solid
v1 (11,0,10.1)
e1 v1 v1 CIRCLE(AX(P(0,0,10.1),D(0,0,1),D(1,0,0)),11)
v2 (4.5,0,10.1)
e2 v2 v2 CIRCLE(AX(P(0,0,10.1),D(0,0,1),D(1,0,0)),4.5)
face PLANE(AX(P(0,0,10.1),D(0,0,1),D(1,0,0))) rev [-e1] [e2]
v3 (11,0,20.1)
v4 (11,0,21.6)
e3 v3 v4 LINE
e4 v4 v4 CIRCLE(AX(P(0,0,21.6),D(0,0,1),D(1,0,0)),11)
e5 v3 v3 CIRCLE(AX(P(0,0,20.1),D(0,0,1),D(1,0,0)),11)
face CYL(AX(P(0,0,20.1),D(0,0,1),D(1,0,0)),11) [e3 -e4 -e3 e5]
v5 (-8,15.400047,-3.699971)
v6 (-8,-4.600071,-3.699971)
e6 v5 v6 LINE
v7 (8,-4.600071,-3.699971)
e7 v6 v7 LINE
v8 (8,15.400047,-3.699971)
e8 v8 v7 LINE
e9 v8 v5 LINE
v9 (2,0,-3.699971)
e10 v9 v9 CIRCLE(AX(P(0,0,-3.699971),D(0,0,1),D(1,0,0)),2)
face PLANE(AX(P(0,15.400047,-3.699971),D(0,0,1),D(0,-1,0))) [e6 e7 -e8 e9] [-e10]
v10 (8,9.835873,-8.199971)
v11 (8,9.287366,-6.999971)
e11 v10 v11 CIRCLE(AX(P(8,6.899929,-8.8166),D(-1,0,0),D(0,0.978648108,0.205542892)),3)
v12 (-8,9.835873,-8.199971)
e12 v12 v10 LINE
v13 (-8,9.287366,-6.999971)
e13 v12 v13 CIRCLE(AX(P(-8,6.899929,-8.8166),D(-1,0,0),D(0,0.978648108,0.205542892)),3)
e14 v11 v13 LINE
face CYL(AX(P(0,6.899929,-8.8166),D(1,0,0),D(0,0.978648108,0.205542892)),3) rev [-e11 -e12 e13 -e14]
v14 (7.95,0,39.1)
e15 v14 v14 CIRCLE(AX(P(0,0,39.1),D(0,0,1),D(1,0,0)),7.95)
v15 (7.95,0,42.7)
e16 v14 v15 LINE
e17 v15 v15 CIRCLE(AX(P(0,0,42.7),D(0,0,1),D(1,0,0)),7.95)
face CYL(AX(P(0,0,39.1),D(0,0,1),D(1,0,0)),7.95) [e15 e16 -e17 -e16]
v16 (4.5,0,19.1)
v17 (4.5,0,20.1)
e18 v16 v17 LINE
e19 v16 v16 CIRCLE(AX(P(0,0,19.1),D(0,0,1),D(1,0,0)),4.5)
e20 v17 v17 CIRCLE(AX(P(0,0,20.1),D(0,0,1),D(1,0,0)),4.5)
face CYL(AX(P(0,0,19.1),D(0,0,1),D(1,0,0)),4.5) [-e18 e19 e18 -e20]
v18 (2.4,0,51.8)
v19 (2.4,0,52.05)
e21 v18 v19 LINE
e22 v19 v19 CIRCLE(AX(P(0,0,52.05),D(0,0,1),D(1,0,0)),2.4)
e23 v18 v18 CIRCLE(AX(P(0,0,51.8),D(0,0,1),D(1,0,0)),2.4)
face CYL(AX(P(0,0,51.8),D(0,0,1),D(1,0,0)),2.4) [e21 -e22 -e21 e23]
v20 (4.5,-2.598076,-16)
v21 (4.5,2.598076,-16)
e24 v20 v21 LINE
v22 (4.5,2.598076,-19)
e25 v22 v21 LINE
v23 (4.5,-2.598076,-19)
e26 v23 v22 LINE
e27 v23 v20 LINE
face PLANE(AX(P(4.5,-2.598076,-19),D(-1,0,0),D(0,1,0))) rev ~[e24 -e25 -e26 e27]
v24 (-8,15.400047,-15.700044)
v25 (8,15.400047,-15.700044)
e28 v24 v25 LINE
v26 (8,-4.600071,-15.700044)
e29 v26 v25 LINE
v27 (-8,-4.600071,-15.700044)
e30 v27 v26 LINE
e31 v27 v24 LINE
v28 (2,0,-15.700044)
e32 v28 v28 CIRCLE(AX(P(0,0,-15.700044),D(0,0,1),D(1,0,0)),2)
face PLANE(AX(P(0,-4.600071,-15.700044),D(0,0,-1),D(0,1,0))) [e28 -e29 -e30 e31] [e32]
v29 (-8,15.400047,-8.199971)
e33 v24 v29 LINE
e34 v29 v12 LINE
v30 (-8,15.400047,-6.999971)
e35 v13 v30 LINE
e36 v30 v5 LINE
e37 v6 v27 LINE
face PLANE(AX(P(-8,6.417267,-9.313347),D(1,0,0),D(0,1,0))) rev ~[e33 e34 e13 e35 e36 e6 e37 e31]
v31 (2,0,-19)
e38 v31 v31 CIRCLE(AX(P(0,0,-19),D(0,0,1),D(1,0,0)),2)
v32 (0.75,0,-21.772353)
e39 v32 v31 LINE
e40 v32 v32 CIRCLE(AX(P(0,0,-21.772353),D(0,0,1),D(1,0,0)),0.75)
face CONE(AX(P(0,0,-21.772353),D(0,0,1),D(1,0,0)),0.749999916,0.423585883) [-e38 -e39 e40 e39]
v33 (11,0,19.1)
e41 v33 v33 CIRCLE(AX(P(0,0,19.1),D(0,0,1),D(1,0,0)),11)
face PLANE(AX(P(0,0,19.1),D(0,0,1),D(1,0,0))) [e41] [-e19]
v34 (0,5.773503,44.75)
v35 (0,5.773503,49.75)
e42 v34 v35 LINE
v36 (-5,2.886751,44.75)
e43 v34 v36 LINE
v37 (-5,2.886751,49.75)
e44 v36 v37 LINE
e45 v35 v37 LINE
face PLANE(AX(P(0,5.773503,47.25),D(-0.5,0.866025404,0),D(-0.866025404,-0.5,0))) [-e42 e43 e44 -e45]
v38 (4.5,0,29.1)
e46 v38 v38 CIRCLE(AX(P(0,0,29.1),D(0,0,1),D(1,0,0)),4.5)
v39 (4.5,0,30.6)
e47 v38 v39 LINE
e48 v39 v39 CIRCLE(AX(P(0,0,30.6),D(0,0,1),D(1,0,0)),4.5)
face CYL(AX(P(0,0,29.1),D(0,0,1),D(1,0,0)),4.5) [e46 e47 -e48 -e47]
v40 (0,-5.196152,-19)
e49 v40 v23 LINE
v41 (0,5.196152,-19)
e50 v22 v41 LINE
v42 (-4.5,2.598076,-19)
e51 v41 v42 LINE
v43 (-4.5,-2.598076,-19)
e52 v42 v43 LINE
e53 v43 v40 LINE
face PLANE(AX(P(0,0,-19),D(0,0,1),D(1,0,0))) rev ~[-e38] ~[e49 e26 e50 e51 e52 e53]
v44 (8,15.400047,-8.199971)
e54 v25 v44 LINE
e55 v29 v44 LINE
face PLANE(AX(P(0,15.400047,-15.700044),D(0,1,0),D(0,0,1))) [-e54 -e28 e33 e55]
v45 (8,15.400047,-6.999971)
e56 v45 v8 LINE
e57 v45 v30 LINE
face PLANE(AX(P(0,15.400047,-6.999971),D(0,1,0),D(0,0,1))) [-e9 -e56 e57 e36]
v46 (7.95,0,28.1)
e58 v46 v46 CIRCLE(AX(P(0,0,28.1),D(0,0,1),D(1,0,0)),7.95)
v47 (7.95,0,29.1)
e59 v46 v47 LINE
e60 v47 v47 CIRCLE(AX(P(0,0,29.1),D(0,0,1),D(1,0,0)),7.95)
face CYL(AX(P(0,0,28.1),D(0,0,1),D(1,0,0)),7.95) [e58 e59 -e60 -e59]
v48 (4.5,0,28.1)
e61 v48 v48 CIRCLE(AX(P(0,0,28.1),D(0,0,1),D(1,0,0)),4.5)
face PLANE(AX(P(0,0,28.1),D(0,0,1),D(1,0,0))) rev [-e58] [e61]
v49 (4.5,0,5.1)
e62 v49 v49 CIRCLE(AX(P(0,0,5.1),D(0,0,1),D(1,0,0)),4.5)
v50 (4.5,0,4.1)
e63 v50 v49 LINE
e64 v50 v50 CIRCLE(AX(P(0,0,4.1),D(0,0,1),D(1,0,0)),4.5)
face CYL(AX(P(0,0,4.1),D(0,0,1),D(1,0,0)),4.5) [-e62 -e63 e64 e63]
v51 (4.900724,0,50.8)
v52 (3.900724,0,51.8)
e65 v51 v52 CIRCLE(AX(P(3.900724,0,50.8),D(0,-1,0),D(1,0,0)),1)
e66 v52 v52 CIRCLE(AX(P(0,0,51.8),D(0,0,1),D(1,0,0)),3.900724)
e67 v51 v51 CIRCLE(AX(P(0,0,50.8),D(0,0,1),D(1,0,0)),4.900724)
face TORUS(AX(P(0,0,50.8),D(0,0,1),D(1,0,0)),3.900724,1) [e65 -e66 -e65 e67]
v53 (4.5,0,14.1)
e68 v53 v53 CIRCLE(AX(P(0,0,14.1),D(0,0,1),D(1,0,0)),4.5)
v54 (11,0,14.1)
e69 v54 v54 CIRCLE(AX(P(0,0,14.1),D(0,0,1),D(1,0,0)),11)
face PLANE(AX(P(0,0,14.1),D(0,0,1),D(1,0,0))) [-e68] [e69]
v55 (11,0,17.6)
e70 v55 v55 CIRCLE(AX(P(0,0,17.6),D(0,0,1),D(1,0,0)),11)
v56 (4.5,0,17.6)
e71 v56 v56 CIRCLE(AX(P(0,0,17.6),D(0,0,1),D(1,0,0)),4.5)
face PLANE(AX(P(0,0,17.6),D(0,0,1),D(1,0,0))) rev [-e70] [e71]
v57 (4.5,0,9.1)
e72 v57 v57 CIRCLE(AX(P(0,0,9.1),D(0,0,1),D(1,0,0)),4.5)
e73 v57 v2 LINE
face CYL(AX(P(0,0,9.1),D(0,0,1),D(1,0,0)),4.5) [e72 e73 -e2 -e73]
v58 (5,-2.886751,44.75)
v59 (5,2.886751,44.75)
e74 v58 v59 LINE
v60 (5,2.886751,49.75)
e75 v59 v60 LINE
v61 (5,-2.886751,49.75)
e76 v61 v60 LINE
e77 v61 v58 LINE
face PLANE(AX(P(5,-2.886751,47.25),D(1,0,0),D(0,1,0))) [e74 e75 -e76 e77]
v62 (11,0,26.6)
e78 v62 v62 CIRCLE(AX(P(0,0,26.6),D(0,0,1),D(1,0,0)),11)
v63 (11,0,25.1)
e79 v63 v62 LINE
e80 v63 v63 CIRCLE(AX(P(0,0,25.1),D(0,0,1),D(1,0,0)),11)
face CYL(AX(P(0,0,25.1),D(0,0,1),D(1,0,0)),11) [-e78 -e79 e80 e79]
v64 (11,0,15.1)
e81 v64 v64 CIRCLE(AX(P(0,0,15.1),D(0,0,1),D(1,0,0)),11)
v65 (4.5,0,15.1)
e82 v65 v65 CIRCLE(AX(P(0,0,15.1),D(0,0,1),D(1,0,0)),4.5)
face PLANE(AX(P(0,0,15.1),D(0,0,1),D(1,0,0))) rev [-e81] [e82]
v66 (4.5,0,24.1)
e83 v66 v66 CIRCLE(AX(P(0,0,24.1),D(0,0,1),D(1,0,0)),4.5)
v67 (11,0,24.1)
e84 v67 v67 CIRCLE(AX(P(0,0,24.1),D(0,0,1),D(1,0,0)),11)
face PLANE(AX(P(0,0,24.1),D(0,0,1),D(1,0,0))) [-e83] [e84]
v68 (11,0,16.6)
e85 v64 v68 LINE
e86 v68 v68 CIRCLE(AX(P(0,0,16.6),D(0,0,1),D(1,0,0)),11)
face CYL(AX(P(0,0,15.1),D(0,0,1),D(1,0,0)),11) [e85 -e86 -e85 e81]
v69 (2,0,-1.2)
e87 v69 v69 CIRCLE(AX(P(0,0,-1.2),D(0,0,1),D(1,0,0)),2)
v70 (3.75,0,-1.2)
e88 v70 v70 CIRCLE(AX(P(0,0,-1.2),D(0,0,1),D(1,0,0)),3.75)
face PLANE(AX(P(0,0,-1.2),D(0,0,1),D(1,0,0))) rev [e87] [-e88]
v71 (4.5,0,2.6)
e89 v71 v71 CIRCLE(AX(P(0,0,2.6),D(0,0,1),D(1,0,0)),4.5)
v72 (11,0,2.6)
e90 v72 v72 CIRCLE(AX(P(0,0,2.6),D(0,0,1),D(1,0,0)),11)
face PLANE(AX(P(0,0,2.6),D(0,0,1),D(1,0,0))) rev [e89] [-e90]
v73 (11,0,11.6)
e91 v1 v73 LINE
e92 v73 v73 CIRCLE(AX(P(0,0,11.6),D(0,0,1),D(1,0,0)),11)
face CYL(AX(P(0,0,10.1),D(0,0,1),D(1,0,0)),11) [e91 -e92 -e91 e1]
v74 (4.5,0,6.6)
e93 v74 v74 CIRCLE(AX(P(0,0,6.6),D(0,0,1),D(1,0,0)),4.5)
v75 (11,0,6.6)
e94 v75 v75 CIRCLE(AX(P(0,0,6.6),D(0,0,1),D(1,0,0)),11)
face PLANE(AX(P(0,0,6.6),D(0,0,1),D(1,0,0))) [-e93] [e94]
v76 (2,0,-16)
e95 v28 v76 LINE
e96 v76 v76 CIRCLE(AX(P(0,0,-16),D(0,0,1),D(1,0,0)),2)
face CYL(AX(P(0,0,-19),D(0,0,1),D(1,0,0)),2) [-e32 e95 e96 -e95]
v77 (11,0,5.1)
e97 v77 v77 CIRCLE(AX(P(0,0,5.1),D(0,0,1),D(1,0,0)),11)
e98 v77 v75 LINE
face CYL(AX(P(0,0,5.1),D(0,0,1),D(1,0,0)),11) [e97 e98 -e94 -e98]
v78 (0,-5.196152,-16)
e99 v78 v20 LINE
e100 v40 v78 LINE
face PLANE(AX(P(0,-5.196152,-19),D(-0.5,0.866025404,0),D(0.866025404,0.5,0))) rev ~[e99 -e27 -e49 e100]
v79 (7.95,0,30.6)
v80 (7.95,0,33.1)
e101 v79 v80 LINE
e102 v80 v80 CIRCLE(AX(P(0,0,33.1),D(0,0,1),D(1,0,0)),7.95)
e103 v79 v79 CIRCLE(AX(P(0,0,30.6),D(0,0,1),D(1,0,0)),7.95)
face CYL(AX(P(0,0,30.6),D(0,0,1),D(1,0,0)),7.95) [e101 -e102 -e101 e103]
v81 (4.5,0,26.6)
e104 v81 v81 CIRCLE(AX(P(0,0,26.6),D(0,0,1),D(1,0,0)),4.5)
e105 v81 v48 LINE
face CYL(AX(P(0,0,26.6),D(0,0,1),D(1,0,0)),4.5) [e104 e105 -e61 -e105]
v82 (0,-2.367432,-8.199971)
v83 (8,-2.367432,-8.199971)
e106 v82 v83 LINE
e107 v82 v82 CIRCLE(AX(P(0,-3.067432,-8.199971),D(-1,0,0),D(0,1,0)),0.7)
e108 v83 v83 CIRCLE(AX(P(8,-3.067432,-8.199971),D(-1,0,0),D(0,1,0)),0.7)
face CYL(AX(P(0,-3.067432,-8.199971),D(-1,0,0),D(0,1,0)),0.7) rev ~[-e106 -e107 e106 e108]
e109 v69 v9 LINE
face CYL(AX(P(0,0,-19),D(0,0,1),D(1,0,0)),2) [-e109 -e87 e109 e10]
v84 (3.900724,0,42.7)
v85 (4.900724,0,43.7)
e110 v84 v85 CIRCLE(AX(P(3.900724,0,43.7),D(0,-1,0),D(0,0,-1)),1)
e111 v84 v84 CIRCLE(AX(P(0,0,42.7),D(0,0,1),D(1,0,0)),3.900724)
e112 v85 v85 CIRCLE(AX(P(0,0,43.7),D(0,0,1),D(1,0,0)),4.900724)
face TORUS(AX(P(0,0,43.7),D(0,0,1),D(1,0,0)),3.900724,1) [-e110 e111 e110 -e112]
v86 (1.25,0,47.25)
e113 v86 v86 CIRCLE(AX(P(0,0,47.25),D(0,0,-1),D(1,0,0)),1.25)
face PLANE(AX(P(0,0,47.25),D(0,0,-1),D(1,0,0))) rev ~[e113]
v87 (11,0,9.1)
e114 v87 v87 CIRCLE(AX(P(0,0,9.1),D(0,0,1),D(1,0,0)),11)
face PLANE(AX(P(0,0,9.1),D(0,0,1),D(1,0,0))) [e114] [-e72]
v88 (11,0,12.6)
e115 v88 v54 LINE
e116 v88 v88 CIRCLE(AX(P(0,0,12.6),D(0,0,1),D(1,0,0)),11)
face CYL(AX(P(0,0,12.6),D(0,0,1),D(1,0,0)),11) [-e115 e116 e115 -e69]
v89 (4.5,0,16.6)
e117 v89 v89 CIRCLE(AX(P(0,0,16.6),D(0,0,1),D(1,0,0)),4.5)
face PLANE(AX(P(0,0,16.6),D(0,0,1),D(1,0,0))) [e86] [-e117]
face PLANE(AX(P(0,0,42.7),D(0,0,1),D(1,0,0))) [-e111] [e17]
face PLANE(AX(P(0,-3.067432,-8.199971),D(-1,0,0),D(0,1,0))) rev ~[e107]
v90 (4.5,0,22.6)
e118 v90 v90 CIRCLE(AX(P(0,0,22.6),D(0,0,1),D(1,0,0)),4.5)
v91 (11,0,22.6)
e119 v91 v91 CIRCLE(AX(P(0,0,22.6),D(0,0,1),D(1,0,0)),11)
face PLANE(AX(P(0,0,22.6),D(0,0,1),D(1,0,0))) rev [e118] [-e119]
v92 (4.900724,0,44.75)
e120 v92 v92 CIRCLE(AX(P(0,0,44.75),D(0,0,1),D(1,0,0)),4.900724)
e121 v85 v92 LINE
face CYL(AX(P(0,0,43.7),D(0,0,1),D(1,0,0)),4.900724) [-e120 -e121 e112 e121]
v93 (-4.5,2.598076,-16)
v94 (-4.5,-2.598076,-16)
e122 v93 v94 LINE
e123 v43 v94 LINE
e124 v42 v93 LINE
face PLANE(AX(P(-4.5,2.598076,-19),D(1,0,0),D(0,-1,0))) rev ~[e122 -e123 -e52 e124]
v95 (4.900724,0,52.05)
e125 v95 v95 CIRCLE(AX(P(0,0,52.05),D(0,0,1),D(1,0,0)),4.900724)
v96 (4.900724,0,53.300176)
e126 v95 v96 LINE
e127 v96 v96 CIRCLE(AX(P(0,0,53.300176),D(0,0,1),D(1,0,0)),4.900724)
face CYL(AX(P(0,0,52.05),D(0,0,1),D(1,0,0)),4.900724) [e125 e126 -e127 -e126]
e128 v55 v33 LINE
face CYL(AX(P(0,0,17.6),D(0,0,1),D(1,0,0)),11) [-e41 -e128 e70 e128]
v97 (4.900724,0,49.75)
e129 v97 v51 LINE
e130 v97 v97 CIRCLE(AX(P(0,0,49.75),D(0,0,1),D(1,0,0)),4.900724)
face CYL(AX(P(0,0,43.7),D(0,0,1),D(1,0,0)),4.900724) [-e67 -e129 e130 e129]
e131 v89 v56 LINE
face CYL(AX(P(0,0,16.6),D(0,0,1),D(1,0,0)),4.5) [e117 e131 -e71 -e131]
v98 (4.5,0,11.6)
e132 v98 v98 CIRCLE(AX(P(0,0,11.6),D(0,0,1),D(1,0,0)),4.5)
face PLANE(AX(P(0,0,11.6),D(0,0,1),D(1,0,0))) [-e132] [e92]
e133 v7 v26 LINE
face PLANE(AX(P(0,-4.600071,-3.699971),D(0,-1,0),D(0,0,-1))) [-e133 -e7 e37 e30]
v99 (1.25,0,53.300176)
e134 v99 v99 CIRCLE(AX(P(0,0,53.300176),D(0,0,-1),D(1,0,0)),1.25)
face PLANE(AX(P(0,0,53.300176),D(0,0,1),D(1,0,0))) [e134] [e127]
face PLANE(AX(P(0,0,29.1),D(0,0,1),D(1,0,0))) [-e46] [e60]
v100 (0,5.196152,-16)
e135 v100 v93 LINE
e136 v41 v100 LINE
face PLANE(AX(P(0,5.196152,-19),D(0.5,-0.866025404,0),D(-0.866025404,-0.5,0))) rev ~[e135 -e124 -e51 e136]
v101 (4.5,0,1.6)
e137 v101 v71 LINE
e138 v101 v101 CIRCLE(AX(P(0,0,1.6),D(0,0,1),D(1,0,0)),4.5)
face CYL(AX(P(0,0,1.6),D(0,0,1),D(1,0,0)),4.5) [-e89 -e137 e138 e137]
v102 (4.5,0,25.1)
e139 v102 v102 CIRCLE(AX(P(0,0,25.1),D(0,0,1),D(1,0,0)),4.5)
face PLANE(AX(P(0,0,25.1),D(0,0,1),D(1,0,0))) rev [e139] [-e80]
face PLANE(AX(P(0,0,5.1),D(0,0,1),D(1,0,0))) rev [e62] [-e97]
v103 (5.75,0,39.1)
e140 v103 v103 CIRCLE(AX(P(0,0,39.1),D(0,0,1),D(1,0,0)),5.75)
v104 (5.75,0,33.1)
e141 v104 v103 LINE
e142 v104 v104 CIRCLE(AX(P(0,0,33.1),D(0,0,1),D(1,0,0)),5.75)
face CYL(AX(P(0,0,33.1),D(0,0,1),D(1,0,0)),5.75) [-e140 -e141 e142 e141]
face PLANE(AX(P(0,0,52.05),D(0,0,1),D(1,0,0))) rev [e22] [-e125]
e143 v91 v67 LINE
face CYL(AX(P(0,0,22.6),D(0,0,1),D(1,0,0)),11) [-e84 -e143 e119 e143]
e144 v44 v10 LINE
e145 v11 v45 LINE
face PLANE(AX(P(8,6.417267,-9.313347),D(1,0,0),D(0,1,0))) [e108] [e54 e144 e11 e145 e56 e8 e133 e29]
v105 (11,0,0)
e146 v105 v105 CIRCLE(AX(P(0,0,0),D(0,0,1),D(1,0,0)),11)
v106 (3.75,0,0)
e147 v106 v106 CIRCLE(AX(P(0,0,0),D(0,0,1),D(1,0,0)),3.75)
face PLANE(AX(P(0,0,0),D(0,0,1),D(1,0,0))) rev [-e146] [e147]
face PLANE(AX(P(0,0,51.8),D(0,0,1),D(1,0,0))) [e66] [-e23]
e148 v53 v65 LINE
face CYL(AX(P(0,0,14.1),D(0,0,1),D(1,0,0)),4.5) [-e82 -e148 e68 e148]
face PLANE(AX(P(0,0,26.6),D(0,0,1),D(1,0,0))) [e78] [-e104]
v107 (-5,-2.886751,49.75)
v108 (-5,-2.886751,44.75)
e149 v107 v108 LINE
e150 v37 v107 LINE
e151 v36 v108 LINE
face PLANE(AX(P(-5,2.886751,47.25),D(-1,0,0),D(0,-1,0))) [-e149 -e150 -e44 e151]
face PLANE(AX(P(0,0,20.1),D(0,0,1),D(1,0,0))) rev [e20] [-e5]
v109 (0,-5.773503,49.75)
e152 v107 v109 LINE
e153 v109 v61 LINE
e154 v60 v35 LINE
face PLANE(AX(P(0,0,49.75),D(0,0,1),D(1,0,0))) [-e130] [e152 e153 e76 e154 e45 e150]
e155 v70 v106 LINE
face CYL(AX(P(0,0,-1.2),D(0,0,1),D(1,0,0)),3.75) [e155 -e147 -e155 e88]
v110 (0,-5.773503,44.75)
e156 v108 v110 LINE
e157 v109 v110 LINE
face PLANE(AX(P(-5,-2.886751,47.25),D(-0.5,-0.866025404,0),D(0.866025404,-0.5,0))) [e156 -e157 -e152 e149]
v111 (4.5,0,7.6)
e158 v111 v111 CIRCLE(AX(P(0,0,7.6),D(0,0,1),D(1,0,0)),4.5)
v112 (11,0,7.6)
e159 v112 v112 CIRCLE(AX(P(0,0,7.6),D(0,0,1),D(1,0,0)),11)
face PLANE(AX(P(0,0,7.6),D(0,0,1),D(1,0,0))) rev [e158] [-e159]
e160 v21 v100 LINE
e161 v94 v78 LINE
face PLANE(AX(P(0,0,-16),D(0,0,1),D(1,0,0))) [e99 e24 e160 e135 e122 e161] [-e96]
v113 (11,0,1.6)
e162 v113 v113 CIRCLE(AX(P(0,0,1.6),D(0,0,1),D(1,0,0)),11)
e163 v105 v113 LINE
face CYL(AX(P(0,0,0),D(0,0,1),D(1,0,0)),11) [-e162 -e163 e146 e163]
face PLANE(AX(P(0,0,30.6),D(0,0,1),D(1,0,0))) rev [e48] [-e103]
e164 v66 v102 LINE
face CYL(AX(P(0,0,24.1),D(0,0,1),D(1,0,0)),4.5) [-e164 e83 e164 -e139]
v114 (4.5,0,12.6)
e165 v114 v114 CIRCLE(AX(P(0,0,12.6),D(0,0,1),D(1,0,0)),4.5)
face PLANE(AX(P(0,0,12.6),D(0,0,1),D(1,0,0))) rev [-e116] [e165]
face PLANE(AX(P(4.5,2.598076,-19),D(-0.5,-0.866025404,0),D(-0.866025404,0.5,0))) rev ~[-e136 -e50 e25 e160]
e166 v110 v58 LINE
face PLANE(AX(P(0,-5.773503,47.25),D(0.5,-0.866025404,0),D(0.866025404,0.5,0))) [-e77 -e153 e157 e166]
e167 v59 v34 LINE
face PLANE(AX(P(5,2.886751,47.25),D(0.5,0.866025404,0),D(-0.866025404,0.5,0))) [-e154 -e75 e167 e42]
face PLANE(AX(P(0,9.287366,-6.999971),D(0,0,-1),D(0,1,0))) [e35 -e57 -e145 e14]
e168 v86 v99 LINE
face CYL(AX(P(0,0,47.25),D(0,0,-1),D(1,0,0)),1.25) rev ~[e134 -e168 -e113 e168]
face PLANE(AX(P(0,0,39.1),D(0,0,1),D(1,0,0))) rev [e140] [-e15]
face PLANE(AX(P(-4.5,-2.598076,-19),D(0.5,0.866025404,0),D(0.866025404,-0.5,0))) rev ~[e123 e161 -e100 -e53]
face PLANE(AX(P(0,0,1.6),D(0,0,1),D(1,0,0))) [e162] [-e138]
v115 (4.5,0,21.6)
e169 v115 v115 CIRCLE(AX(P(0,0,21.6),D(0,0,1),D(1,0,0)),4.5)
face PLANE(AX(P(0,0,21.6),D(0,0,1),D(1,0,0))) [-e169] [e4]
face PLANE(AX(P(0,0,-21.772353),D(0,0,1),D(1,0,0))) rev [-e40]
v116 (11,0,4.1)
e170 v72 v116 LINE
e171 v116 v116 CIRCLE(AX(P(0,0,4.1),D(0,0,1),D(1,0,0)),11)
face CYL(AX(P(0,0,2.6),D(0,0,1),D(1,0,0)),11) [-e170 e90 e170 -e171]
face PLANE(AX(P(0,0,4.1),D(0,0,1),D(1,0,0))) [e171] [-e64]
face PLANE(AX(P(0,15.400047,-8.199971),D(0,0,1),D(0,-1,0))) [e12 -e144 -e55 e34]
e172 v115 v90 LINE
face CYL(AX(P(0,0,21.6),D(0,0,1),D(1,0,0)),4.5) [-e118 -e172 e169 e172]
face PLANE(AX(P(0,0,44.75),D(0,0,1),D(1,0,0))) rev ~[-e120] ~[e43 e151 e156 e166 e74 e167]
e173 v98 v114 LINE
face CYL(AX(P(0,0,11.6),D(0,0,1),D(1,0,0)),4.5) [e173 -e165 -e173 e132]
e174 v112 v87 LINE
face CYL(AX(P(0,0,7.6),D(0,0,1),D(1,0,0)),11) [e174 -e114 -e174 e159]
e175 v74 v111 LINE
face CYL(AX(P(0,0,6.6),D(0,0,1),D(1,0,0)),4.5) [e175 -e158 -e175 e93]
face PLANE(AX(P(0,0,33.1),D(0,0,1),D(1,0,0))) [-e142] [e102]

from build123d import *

# Parameters (mm, degrees)
F4_R      = 3.75
F4_R_2    = 2
F9_DEPTH  = 1.2
F10_DEPTH = 3.7
F11_DEPTH = 3
F12_DEPTH = 2.5
F13_DEPTH = 8
F14_D     = 2.5
F14_DEPTH = 6.0511758158
F15_D     = 1.4
F15_DEPTH = 11.001


with BuildPart() as f8:
    # F3 (on Front) → F8 (revolve)
    with BuildSketch(Plane.XZ):
        with BuildLine():
            Line((0, 42.7), (0, 0))
            Line((0, 0), (-8.38e-08, -21.7723533995))
            Line((-8.38e-08, -21.7723533995), (0.7499999162, -21.7723533995))
            Line((0.7499999162, -21.7723533995), (1.9999999162, -19))
            Line((1.9999999162, -19), (1.9999999162, -1.2))
            Line((1.9999999162, -1.2), (3.7499999162, -1.2))
            Line((3.7499999162, -1.2), (3.7499999162, 0))
            Line((3.7499999162, 0), (11, 0))
            Line((11, 0), (11, 1.6))
            Line((11, 1.6), (4.5, 1.6))
            Line((4.5, 1.6), (4.5, 2.6))
            Line((4.5, 2.6), (11, 2.6))
            Line((11, 2.6), (11, 4.1))
            Line((11, 4.1), (4.5, 4.1))
            Line((4.5, 4.1), (4.5, 5.1))
            Line((4.5, 5.1), (11, 5.1))
            Line((11, 5.1), (11, 6.6))
            Line((11, 6.6), (4.5, 6.6))
            Line((4.5, 6.6), (4.5, 7.6))
            Line((4.5, 7.6), (11, 7.6))
            Line((11, 7.6), (11, 9.1))
            Line((11, 9.1), (4.5, 9.1))
            Line((4.5, 9.1), (4.5, 10.1))
            Line((4.5, 10.1), (11, 10.1))
            Line((11, 10.1), (11, 11.6))
            Line((11, 11.6), (4.5, 11.6))
            Line((4.5, 11.6), (4.5, 12.6))
            Line((4.5, 12.6), (11, 12.6))
            Line((11, 12.6), (11, 14.1))
            Line((11, 14.1), (4.5, 14.1))
            Line((4.5, 14.1), (4.5, 15.1))
            Line((4.5, 15.1), (11, 15.1))
            Line((11, 15.1), (11, 16.6))
            Line((11, 16.6), (4.5, 16.6))
            Line((4.5, 16.6), (4.5, 17.6))
            Line((4.5, 17.6), (11, 17.6))
            Line((11, 17.6), (11, 19.1))
            Line((11, 19.1), (4.5, 19.1))
            Line((4.5, 19.1), (4.5, 20.1))
            Line((4.5, 20.1), (11, 20.1))
            Line((11, 20.1), (11, 21.6))
            Line((11, 21.6), (4.5, 21.6))
            Line((4.5, 21.6), (4.5, 22.6))
            Line((4.5, 22.6), (11, 22.6))
            Line((11, 22.6), (11, 24.1))
            Line((11, 24.1), (4.5, 24.1))
            Line((4.5, 24.1), (4.5, 25.1))
            Line((4.5, 25.1), (11, 25.1))
            Line((11, 25.1), (11, 26.6))
            Line((11, 26.6), (4.5, 26.6))
            Line((4.5, 26.6), (4.5, 28.1))
            Line((4.5, 28.1), (7.95, 28.1))
            Line((7.95, 28.1), (7.95, 29.1))
            Line((7.95, 29.1), (4.5, 29.1))
            Line((4.5, 29.1), (4.5, 30.6))
            Line((4.5, 30.6), (7.95, 30.6))
            Line((7.95, 30.6), (7.95, 33.1))
            Line((7.95, 33.1), (5.75, 33.1))
            Line((5.75, 33.1), (5.75, 39.1))
            Line((5.75, 39.1), (7.95, 39.1))
            Line((7.95, 39.1), (7.95, 42.7))
            Line((7.95, 42.7), (3.9007244632, 42.7))
            ThreePointArc((3.9007244632, 42.7), (4.6078312444, 42.9928932188), (4.9007244632, 43.7))
            Line((4.9007244632, 43.7), (4.9007244632, 50.8))
            ThreePointArc((4.9007244632, 50.8), (4.6078312444, 51.5071067812), (3.9007244632, 51.8))
            Line((3.9007244632, 51.8), (2.400000114, 51.8))
            Line((2.400000114, 51.8), (2.400000114, 52.05))
            Line((2.400000114, 52.05), (4.9007244632, 52.05))
            Line((4.9007244632, 52.05), (4.9007244632, 53.3001758158))
            Line((4.9007244632, 53.3001758158), (0, 53.3001758158))
            Line((0, 53.3001758158), (0, 51.8))
            Line((0, 51.8), (0, 42.7))
        make_face()
    revolve(axis=Axis((0, 0, 21.35), (0, 0, 1)))

    # F4 (on Top) → F9 (join)
    with BuildSketch(Plane.XY):
        Circle(F4_R)
        Circle(F4_R_2, mode=Mode.SUBTRACT)
    extrude(amount=-F9_DEPTH)

    # F4 (on Top) → F10 (join)
    with BuildSketch(Plane.XY):
        Circle(F4_R_2)
    extrude(amount=-F10_DEPTH)

    # F5 (on offset) → F11 (join)
    with BuildSketch(Plane.XY.offset(-19)):
        Polygon((4.5, -2.5980762114), (4.5, 2.5980762114), (0, 5.1961524227), (-4.5, 2.5980762114), (-4.5, -2.5980762114), (0, -5.1961524227), align=None)
    extrude(amount=F11_DEPTH)

    # F6 (on offset) → F12 (join, symmetric)
    with BuildSketch(Plane.XY.offset(47.25)):
        Polygon((5, -2.8867513459), (5, 2.8867513459), (0, 5.7735026919), (-5, 2.8867513459), (-5, -2.8867513459), (0, -5.7735026919), align=None)
    extrude(amount=F12_DEPTH, both=True)

    # F7 (on Right) → F13 (join, symmetric)
    with BuildSketch(Plane.YZ):
        with BuildLine():
            Line((15.400047414, -3.6999706645), (-4.6000713482, -3.6999706645))
            Line((-4.6000713482, -3.6999706645), (-4.6000713482, -15.7000441104))
            Line((-4.6000713482, -15.7000441104), (15.400047414, -15.7000441104))
            Line((15.400047414, -15.7000441104), (15.400047414, -8.1999711692))
            Line((15.400047414, -8.1999711692), (9.8358729723, -8.1999711692))
            ThreePointArc((9.8358729723, -8.1999711692), (4.1714493177, -10.0637568305), (9.2873664374, -6.9999708794))
            Line((9.2873664374, -6.9999708794), (15.400047414, -6.9999708794))
            Line((15.400047414, -6.9999708794), (15.400047414, -3.6999706645))
        make_face()
    extrude(amount=F13_DEPTH, both=True)

    # F14 (through all, one way)
    with BuildSketch(Plane(origin=(0, 0, 47.25), x_dir=(1, 0, 0), z_dir=(0, 0, -1))):
        with Locations((0, 0)):
            Circle(F14_D / 2)
    extrude(amount=-F14_DEPTH, mode=Mode.SUBTRACT)

    # F15 (through all, one way)
    with BuildSketch(Plane(origin=(0, 0, 0), x_dir=(0, 1, 0), z_dir=(-1, 0, 0))):
        with Locations((-3.0674322043, 8.1999711692)):
            Circle(F15_D / 2)
    extrude(amount=-F15_DEPTH, mode=Mode.SUBTRACT)


solid = f8.part
